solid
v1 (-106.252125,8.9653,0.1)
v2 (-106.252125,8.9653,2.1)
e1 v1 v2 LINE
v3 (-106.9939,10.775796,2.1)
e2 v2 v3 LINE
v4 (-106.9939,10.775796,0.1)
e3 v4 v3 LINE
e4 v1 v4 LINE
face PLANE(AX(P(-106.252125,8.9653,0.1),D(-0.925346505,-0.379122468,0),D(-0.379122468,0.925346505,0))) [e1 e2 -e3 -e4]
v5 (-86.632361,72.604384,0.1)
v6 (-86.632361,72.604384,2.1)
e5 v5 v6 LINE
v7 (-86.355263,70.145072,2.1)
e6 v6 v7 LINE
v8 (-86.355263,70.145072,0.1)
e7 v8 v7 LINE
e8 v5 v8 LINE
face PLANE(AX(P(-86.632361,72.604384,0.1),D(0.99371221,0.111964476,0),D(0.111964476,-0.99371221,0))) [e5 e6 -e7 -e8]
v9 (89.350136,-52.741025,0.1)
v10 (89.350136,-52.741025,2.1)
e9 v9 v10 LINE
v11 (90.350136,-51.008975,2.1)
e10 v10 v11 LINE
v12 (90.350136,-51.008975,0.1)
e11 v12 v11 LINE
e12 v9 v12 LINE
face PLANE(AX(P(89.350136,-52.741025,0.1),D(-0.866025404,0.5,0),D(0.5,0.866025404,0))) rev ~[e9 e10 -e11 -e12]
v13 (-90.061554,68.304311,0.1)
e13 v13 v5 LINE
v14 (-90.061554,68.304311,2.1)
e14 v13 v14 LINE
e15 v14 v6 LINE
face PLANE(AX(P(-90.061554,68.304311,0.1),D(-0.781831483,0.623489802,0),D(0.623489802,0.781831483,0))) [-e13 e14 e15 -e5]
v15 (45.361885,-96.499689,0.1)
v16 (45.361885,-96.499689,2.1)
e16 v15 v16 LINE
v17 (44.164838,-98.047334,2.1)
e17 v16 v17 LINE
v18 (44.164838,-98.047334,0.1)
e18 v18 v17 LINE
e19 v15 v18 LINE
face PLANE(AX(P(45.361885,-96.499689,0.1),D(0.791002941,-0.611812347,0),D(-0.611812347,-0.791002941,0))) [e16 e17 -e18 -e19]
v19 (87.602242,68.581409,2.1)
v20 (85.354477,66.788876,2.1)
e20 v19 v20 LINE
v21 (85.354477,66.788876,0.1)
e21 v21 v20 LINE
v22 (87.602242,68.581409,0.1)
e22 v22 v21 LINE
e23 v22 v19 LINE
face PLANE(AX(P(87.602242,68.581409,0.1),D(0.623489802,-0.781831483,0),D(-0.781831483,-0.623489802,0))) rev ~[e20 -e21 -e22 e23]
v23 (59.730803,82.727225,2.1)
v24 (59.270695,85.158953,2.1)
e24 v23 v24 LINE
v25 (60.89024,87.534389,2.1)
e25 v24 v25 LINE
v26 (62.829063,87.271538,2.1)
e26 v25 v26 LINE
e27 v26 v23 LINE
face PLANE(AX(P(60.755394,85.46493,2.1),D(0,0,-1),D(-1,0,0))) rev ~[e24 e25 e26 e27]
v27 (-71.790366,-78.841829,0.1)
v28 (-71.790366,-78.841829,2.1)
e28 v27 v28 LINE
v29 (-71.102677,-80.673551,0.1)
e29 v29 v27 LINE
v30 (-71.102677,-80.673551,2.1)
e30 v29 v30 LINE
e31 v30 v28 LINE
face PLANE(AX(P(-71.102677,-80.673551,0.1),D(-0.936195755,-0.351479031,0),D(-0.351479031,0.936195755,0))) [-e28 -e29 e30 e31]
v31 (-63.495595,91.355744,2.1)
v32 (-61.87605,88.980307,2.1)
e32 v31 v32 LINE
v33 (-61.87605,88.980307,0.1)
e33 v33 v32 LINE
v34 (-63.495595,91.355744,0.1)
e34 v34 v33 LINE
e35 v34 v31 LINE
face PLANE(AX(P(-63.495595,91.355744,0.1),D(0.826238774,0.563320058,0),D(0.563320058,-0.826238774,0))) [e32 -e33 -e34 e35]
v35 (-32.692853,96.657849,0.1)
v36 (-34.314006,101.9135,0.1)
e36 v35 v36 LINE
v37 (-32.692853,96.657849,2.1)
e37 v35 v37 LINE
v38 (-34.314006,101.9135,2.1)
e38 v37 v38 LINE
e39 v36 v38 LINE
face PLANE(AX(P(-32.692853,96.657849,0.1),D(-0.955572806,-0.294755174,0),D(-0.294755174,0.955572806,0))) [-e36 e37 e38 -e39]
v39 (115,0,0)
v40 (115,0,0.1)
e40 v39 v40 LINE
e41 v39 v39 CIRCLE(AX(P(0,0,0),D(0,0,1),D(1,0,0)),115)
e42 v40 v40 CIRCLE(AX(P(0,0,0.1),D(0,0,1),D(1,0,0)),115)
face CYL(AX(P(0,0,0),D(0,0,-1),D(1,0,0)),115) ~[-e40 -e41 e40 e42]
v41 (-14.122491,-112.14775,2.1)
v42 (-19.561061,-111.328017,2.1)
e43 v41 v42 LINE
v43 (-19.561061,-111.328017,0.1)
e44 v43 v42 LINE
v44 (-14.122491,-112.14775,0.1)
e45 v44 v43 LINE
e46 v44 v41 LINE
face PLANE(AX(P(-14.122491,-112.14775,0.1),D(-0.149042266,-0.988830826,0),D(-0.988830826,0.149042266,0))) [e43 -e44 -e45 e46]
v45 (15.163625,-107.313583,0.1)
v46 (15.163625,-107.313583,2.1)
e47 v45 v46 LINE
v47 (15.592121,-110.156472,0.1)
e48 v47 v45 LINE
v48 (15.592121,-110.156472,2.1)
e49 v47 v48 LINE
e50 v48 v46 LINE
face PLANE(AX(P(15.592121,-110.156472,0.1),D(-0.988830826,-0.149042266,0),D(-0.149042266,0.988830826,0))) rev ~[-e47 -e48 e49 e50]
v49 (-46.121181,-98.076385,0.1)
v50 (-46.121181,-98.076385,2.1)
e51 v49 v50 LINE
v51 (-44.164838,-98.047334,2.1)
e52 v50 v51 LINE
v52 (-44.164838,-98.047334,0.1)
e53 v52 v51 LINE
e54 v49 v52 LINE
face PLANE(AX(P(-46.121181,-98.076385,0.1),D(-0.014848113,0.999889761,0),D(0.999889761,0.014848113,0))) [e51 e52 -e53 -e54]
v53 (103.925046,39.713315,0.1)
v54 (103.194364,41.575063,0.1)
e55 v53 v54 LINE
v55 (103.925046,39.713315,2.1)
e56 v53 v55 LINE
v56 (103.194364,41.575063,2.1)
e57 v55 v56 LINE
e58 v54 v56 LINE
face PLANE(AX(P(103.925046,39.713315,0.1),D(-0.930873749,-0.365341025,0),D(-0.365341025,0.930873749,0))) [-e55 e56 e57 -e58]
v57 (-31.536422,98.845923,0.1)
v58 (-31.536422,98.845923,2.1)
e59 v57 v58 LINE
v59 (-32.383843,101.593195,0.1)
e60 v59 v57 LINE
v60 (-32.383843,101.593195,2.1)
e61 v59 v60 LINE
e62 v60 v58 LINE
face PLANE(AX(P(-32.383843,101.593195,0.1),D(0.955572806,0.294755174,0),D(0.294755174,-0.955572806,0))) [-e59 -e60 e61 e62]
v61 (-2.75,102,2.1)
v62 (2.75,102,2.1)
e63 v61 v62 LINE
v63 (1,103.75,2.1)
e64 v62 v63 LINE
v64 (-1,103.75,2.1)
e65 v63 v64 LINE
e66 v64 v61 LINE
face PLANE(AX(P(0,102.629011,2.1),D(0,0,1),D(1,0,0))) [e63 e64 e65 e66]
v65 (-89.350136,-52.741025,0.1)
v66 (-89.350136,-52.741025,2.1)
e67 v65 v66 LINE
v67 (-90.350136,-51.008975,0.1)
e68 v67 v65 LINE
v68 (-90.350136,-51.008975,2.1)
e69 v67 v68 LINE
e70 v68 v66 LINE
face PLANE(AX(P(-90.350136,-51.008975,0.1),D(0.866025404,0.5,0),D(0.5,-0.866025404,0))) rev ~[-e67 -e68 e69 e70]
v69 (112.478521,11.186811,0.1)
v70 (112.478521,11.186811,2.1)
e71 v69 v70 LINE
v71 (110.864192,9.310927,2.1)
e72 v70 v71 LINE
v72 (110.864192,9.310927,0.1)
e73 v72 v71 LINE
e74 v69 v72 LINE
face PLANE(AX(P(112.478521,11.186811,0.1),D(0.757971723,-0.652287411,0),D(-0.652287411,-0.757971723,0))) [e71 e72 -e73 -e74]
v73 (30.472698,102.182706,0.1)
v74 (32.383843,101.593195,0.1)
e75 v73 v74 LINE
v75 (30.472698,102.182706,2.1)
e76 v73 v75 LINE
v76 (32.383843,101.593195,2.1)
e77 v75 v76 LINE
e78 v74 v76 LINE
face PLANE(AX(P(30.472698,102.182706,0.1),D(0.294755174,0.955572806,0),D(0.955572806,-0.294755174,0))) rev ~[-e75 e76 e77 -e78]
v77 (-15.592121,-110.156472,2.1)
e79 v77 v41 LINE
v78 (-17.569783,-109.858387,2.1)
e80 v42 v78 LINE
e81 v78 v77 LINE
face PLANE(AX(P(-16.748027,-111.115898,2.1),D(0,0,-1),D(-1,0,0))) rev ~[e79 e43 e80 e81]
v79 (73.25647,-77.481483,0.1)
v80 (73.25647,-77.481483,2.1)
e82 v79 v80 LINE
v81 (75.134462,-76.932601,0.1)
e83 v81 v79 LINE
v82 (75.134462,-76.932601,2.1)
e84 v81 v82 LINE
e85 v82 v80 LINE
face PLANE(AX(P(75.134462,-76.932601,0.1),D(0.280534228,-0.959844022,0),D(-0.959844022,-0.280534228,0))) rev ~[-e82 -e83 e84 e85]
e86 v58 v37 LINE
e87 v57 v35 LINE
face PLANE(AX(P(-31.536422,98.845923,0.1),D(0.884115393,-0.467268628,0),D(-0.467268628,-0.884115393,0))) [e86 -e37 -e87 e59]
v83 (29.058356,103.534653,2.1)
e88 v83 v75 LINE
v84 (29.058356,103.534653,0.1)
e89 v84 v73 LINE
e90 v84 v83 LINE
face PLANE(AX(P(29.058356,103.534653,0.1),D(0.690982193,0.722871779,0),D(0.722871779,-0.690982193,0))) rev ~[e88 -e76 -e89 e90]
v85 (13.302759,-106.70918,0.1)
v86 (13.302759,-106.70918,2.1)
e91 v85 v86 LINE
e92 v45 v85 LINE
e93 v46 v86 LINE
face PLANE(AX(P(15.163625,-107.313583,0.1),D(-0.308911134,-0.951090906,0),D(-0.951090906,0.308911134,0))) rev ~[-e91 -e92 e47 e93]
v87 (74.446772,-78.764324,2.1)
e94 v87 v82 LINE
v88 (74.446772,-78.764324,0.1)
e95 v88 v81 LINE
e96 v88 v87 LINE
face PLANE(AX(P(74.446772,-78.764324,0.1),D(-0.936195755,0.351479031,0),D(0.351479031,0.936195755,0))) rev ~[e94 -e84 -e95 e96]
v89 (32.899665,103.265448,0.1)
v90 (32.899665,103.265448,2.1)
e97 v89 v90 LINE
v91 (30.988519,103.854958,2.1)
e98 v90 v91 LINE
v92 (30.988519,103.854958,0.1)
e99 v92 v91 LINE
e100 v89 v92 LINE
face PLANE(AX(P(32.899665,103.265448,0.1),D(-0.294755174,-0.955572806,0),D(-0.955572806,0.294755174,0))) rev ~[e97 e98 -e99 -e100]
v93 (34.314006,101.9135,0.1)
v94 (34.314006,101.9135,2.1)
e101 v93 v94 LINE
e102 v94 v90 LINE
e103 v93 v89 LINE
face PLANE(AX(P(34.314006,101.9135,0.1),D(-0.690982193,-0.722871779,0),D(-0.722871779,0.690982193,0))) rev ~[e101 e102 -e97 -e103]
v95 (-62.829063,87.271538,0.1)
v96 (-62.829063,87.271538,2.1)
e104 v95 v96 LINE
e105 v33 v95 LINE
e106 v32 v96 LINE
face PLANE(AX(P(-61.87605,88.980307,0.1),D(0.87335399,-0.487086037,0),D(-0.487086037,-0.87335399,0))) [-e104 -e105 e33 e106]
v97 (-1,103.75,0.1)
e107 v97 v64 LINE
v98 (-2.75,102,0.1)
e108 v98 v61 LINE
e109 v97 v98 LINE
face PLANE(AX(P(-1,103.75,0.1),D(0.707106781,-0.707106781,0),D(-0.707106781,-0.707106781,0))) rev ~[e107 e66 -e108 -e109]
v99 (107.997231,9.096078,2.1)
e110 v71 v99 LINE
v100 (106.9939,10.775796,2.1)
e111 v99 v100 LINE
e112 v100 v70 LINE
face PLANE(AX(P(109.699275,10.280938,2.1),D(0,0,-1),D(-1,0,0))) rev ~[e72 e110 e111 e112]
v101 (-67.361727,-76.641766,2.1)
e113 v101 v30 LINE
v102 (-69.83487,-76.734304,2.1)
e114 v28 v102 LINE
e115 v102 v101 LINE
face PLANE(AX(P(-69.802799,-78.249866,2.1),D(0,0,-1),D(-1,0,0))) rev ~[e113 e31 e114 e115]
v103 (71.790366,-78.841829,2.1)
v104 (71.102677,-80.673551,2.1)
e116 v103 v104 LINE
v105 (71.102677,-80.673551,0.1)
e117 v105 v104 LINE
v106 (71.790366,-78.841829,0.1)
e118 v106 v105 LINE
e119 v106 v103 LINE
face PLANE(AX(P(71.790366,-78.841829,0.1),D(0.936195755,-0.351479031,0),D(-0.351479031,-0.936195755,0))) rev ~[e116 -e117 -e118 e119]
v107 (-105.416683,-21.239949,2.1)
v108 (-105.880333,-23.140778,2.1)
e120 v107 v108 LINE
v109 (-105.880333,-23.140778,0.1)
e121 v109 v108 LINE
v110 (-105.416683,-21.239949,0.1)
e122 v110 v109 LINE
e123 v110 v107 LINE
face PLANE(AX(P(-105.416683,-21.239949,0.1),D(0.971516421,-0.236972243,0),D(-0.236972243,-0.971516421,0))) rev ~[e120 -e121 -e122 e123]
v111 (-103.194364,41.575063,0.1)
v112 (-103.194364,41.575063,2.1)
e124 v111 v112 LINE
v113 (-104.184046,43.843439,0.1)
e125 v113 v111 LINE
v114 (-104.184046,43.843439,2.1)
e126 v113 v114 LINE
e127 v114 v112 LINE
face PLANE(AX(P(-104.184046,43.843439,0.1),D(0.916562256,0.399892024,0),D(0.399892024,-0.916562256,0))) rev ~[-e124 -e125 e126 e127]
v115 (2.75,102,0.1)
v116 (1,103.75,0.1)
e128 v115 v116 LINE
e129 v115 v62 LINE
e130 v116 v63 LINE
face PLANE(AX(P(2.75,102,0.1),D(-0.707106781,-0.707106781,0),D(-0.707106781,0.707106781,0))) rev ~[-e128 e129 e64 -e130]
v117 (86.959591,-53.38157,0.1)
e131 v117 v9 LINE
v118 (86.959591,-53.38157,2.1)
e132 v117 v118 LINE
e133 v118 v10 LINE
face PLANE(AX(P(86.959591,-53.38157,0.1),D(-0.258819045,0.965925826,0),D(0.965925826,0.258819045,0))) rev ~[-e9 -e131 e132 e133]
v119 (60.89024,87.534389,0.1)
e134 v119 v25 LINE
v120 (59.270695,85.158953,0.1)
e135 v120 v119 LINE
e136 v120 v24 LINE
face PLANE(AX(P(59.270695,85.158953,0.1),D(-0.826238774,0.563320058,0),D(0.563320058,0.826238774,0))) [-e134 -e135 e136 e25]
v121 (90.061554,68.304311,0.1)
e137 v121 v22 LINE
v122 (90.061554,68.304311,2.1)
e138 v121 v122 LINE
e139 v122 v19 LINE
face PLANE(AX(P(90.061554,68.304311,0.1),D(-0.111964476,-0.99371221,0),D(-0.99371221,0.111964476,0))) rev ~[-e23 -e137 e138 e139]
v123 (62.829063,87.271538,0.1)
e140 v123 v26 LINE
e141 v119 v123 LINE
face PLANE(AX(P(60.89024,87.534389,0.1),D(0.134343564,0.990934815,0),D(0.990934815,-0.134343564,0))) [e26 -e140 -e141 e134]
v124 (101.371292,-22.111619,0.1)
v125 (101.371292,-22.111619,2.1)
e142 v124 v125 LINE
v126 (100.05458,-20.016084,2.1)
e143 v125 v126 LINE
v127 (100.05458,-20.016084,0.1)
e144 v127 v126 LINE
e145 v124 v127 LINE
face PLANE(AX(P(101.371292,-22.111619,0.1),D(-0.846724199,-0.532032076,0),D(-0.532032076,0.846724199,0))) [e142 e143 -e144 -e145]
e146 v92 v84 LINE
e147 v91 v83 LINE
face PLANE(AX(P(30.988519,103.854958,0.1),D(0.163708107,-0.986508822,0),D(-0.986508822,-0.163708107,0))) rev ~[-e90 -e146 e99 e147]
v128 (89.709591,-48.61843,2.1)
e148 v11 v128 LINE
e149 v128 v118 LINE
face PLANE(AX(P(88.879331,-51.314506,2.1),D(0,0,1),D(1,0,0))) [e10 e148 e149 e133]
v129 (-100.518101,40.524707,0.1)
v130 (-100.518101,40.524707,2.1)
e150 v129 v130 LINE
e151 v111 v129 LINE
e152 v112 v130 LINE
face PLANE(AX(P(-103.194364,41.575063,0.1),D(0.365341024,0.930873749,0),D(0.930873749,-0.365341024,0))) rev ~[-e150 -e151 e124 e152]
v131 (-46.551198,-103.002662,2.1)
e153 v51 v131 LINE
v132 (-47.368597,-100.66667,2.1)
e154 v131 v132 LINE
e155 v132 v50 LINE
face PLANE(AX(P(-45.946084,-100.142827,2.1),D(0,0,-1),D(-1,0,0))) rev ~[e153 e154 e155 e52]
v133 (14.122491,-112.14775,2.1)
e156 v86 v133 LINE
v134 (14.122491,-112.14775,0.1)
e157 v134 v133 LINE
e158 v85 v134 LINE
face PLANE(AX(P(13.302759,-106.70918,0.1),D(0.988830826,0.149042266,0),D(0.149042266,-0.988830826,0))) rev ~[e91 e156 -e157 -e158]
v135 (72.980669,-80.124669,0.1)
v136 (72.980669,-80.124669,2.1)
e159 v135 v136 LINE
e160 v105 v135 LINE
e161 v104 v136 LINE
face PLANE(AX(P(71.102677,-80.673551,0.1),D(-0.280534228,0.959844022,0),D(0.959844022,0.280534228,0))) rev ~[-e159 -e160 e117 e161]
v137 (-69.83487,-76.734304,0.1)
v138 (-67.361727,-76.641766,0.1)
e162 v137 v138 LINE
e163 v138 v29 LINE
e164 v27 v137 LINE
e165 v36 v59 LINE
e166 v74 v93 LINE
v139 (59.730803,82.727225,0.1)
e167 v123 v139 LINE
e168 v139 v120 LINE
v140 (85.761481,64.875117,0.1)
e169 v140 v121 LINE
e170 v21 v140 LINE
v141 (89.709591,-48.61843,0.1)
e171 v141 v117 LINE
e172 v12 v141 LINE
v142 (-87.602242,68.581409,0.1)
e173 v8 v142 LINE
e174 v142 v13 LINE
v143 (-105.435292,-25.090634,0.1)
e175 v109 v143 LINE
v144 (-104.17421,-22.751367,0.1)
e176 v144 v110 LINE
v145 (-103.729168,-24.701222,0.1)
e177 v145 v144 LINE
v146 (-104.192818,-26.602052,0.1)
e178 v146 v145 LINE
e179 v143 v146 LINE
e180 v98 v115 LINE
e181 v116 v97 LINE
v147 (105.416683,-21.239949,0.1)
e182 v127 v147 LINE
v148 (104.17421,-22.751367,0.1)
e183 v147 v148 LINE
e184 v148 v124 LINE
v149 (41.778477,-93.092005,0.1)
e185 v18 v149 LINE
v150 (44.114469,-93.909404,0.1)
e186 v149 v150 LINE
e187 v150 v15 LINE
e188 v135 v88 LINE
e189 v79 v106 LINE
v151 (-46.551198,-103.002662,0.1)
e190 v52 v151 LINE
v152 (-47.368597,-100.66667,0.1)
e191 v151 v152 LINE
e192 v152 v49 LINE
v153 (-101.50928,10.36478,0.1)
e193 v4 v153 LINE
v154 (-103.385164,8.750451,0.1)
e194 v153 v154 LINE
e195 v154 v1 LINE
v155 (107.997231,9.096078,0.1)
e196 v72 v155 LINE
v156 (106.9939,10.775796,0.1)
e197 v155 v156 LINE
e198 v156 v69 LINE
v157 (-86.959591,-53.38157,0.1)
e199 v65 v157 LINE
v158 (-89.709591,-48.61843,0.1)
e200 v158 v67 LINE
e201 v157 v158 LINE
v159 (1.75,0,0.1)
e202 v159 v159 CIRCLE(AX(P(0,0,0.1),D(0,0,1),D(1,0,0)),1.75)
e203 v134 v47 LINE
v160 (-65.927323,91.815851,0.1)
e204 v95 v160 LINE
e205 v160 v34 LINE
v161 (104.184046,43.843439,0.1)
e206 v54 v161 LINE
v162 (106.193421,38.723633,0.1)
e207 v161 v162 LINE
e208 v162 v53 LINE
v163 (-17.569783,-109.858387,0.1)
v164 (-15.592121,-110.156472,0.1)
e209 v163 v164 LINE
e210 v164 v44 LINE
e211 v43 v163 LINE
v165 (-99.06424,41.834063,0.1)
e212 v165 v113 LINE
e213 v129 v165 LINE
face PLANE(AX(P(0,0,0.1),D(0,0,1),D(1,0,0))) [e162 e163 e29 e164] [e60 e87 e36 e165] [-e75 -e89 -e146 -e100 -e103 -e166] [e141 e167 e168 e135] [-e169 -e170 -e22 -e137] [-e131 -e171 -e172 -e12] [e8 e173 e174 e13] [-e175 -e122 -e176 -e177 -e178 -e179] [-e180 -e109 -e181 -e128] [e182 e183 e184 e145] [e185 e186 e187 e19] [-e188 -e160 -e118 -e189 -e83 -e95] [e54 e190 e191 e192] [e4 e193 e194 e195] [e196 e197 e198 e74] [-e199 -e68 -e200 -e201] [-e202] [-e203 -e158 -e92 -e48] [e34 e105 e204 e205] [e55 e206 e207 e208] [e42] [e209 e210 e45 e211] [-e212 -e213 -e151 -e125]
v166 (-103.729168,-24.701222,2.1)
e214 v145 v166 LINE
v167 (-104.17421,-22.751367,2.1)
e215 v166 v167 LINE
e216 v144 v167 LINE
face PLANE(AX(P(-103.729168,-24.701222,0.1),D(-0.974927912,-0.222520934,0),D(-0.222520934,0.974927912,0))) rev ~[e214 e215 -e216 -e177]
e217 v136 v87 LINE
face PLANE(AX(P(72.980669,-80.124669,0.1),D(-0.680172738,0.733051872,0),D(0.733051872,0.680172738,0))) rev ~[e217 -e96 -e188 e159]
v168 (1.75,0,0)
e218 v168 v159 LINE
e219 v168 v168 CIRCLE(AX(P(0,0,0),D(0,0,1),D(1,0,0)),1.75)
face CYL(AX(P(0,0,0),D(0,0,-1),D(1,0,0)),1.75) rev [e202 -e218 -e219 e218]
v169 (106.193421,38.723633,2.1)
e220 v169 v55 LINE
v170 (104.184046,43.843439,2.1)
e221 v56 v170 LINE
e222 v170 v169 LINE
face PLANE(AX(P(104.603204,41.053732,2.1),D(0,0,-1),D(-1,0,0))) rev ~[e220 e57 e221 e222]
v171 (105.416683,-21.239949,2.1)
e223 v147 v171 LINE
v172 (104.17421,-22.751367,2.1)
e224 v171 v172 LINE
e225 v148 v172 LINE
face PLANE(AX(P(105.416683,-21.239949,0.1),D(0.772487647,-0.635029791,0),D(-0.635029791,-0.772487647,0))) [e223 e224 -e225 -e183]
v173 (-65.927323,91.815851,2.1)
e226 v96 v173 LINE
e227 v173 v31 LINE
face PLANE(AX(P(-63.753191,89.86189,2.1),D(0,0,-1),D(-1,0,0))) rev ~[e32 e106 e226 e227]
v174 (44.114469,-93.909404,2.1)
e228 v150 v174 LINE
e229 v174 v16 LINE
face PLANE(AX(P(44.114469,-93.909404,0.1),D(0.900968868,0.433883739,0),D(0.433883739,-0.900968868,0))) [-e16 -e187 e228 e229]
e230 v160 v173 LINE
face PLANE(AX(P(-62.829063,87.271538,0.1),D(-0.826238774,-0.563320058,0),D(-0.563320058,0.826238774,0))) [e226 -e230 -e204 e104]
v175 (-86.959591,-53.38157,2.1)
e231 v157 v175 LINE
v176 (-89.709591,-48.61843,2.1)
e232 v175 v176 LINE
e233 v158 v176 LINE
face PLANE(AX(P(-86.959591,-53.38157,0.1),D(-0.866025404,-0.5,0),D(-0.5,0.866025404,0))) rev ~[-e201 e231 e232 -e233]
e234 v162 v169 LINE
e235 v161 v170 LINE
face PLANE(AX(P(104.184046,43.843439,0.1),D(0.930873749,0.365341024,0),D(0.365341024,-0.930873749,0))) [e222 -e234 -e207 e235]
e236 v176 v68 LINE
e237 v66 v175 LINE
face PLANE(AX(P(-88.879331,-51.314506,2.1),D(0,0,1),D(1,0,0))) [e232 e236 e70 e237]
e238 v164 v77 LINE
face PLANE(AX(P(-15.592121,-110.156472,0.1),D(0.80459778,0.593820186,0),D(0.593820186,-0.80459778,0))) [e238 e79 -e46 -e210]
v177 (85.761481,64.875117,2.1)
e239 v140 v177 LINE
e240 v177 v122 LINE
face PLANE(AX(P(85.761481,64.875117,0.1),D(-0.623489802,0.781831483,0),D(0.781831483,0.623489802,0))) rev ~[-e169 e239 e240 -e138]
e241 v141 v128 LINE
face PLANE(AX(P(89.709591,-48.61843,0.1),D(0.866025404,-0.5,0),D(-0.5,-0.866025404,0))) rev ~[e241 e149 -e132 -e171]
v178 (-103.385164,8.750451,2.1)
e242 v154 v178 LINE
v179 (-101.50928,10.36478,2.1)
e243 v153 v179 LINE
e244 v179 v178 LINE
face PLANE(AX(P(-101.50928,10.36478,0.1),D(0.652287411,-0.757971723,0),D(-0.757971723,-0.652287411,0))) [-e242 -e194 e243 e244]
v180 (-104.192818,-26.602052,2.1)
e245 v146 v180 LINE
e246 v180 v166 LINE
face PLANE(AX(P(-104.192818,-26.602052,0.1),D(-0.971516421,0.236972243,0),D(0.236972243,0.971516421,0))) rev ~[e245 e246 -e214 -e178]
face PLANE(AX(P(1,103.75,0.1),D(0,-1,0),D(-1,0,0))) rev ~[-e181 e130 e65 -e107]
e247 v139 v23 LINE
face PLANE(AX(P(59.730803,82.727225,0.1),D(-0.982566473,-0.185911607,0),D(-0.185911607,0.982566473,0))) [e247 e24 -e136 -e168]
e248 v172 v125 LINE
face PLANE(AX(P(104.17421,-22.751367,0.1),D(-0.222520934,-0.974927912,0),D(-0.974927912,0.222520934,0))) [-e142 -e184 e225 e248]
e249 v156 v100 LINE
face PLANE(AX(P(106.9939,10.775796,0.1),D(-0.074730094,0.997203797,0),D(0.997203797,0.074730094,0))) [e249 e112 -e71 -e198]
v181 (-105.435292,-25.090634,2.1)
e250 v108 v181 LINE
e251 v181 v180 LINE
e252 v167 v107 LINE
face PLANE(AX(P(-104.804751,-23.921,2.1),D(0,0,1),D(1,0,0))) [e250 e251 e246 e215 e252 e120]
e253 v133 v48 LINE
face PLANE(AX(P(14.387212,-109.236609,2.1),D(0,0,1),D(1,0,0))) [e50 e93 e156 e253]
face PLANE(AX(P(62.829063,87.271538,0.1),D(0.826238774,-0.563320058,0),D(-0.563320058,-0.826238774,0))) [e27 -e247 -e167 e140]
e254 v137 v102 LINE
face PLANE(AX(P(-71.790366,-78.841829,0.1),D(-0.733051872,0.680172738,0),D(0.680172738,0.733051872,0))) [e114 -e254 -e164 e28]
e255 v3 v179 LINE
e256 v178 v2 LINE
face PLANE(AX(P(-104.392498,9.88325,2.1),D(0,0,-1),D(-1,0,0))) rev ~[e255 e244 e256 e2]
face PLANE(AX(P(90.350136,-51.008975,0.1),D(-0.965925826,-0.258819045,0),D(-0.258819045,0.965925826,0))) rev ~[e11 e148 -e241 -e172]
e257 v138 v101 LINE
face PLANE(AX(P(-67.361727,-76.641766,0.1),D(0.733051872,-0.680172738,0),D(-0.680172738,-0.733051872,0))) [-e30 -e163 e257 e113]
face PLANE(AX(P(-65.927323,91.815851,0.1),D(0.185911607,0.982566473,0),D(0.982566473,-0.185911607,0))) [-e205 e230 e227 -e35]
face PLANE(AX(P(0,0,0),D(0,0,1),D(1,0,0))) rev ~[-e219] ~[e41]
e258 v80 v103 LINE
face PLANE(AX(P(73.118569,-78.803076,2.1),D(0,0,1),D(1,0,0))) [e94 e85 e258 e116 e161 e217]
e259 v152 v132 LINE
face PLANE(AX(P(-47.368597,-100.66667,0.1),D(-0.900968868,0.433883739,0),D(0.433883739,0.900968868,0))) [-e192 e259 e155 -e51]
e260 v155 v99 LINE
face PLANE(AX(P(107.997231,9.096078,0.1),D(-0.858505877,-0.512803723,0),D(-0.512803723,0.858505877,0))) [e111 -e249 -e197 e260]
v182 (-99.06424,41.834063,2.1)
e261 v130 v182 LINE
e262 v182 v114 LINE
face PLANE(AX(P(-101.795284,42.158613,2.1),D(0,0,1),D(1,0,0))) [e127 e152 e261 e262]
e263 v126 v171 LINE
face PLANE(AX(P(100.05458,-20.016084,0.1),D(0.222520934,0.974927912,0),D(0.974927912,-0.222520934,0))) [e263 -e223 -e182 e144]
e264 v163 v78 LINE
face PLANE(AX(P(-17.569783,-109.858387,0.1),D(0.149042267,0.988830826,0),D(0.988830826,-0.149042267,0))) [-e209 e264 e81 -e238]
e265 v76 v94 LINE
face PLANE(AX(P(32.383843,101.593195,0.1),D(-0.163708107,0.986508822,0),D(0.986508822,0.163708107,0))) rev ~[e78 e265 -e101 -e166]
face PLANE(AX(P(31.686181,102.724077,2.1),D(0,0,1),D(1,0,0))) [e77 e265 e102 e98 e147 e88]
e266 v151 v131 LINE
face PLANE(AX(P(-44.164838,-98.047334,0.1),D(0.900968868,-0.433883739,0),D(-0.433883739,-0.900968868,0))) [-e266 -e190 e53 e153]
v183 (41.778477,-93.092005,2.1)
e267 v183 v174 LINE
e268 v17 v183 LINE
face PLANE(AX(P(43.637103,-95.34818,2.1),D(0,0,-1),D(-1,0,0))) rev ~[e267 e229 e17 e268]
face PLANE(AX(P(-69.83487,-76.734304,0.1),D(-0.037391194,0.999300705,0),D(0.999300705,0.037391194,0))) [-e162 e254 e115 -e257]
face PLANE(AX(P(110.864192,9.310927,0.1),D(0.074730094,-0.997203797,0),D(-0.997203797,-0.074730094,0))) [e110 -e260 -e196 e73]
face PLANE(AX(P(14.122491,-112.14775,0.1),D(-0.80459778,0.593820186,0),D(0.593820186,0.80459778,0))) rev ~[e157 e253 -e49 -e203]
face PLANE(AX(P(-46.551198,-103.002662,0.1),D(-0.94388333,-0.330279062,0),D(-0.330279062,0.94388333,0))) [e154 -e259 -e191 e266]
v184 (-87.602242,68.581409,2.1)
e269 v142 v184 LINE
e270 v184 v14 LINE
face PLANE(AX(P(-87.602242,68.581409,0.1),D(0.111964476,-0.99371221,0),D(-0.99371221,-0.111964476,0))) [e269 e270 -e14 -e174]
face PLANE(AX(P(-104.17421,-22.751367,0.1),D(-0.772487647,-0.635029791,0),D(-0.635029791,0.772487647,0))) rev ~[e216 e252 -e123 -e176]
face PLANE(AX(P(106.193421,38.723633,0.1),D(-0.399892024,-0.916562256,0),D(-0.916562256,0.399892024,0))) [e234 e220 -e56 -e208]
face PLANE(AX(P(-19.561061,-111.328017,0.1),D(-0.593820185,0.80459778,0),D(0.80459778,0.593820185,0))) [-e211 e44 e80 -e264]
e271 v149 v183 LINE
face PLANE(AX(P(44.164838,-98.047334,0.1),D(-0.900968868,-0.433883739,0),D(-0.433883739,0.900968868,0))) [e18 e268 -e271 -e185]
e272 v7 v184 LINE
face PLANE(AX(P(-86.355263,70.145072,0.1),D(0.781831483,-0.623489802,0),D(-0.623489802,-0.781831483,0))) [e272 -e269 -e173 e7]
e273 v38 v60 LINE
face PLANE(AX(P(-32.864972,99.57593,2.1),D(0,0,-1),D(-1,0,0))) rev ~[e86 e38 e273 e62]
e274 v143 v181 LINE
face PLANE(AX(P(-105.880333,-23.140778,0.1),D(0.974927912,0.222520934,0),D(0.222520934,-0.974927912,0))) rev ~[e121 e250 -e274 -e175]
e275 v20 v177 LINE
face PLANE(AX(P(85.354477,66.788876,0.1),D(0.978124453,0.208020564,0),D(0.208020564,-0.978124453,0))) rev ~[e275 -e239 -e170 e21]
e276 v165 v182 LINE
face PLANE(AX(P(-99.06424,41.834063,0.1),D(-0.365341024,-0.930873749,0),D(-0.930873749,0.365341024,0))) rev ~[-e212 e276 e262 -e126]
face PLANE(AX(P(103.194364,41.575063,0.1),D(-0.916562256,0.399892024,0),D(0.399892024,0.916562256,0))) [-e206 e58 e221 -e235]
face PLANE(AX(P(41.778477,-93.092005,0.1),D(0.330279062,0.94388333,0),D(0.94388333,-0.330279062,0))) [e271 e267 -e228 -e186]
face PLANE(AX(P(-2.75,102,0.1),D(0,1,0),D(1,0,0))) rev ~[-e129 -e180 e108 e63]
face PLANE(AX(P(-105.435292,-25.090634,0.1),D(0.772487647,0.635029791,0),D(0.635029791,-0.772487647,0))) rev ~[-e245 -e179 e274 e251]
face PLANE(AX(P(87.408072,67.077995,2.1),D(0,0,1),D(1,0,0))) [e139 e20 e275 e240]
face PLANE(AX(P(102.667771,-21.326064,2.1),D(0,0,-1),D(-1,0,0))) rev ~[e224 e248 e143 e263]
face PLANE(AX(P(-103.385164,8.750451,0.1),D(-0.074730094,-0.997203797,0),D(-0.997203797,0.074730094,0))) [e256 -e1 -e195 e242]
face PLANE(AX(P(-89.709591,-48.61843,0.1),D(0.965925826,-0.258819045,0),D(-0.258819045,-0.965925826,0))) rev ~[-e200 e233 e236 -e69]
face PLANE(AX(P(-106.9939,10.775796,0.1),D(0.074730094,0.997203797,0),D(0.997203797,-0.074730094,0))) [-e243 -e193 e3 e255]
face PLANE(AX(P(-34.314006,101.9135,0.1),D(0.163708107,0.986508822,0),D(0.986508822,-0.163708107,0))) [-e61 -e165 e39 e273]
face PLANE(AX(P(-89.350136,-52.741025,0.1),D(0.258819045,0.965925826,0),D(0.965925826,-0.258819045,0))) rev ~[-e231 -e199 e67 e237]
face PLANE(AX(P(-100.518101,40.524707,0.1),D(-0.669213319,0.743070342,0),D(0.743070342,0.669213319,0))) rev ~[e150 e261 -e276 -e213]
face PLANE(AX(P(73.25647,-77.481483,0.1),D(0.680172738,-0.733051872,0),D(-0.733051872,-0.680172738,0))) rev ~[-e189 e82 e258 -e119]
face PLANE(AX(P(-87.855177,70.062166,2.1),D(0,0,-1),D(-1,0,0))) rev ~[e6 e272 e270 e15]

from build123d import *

# Parameters (mm, degrees)
SKETCH1_R           = 115
SKETCH1_R_2         = 1.75
BOSS_EXTRUDE1_DEPTH = 0.1
BOSS_EXTRUDE2_DEPTH = 2


with BuildPart() as part:
    # Sketch1 → Boss-Extrude1 (new body)
    with BuildSketch(Plane.XY):
        Circle(SKETCH1_R)
        Circle(SKETCH1_R_2, mode=Mode.SUBTRACT)
    extrude(amount=BOSS_EXTRUDE1_DEPTH)

    # Sketch2 → Boss-Extrude2 (add)
    with BuildSketch(Plane.XY.offset(0.1)):
        Polygon((2.75, 102), (1, 103.75), (-1, 103.75), (-2.75, 102), align=None)
        Polygon((-31.536422151, 98.845923426), (-32.692853006, 96.657849461), (-34.314006465, 101.913499892), (-32.383843277, 101.593195243), align=None)
        Polygon((-61.876050067, 88.980307108), (-62.829062871, 87.271538079), (-65.927323191, 91.815851338), (-63.495595234, 91.355743585), align=None)
        Polygon((-86.355262623, 70.145071939), (-87.602242226, 68.581408974), (-90.061554474, 68.304311033), (-86.632360564, 72.604384187), align=None)
        Polygon((-104.18404578, 43.843438562), (-103.194363512, 41.575062709), (-100.518101485, 40.524707264), (-99.064240162, 41.834062928), align=None)
        Polygon((-106.252124781, 8.965300026), (-106.99390044, 10.775795503), (-101.509279555, 10.364779988), (-103.385163864, 8.750451007), align=None)
        Polygon((-105.416683128, -21.239948642), (-105.880333417, -23.140778305), (-105.435291549, -25.09063413), (-104.192817991, -26.602052159), (-103.729167702, -24.701222495), (-104.17420957, -22.751366671), align=None)
        Polygon((-86.959591186, -53.38156986), (-89.709591186, -48.61843014), (-90.350135643, -51.008974596), (-89.350135643, -52.741025404), align=None)
        Polygon((-69.834869672, -76.73430444), (-67.361726605, -76.641765956), (-71.102676663, -80.673551251), (-71.790366293, -78.841828572), align=None)
        Polygon((-46.121181359, -98.076384798), (-44.164837568, -98.047333582), (-46.551198134, -103.002662356), (-47.368597109, -100.666670293), align=None)
        Polygon((-17.569782938, -109.858387151), (-15.592121286, -110.156471684), (-14.122491306, -112.147749595), (-19.56106085, -111.328017131), align=None)
        Polygon((14.122491306, -112.147749595), (15.592121286, -110.156471684), (15.163624771, -107.313583058), (13.302758842, -106.709180051), align=None)
        Polygon((45.361884816, -96.499689279), (44.164837568, -98.047333582), (41.778477003, -93.092004809), (44.114469066, -93.909403784), align=None)
        Polygon((71.102676663, -80.673551251), (72.980668584, -80.124669347), (74.446772328, -78.764323872), (75.134461958, -76.932601193), (73.256470037, -77.481483096), (71.790366293, -78.841828572), align=None)
        Polygon((89.709591186, -48.61843014), (86.959591186, -53.38156986), (89.350135643, -52.741025404), (90.350135643, -51.008974596), align=None)
        Polygon((101.371291823, -22.111618986), (100.054579611, -20.016083505), (105.416683128, -21.239948642), (104.17420957, -22.751366671), align=None)
        Polygon((107.997231426, 9.09607769), (106.99390044, 10.775795503), (112.478521324, 11.186811018), (110.864192343, 9.310926709), align=None)
        Polygon((103.925045561, 39.713315212), (103.194363512, 41.575062709), (104.18404578, 43.843438562), (106.193421414, 38.723632945), align=None)
        Polygon((90.061554474, 68.304311033), (87.602242226, 68.581408974), (85.354476714, 66.788875794), (85.76148132, 64.875117123), align=None)
        Polygon((60.890239965, 87.534389253), (62.829062871, 87.271538079), (59.730802552, 82.727224821), (59.270694798, 85.158952777), align=None)
        Polygon((34.314006465, 101.913499892), (32.899664833, 103.265447653), (30.988519221, 103.854958001), (29.058356033, 103.534653352), (30.472697666, 102.182705591), (32.383843277, 101.593195243), align=None)
    extrude(amount=BOSS_EXTRUDE2_DEPTH)


solid = part.part
